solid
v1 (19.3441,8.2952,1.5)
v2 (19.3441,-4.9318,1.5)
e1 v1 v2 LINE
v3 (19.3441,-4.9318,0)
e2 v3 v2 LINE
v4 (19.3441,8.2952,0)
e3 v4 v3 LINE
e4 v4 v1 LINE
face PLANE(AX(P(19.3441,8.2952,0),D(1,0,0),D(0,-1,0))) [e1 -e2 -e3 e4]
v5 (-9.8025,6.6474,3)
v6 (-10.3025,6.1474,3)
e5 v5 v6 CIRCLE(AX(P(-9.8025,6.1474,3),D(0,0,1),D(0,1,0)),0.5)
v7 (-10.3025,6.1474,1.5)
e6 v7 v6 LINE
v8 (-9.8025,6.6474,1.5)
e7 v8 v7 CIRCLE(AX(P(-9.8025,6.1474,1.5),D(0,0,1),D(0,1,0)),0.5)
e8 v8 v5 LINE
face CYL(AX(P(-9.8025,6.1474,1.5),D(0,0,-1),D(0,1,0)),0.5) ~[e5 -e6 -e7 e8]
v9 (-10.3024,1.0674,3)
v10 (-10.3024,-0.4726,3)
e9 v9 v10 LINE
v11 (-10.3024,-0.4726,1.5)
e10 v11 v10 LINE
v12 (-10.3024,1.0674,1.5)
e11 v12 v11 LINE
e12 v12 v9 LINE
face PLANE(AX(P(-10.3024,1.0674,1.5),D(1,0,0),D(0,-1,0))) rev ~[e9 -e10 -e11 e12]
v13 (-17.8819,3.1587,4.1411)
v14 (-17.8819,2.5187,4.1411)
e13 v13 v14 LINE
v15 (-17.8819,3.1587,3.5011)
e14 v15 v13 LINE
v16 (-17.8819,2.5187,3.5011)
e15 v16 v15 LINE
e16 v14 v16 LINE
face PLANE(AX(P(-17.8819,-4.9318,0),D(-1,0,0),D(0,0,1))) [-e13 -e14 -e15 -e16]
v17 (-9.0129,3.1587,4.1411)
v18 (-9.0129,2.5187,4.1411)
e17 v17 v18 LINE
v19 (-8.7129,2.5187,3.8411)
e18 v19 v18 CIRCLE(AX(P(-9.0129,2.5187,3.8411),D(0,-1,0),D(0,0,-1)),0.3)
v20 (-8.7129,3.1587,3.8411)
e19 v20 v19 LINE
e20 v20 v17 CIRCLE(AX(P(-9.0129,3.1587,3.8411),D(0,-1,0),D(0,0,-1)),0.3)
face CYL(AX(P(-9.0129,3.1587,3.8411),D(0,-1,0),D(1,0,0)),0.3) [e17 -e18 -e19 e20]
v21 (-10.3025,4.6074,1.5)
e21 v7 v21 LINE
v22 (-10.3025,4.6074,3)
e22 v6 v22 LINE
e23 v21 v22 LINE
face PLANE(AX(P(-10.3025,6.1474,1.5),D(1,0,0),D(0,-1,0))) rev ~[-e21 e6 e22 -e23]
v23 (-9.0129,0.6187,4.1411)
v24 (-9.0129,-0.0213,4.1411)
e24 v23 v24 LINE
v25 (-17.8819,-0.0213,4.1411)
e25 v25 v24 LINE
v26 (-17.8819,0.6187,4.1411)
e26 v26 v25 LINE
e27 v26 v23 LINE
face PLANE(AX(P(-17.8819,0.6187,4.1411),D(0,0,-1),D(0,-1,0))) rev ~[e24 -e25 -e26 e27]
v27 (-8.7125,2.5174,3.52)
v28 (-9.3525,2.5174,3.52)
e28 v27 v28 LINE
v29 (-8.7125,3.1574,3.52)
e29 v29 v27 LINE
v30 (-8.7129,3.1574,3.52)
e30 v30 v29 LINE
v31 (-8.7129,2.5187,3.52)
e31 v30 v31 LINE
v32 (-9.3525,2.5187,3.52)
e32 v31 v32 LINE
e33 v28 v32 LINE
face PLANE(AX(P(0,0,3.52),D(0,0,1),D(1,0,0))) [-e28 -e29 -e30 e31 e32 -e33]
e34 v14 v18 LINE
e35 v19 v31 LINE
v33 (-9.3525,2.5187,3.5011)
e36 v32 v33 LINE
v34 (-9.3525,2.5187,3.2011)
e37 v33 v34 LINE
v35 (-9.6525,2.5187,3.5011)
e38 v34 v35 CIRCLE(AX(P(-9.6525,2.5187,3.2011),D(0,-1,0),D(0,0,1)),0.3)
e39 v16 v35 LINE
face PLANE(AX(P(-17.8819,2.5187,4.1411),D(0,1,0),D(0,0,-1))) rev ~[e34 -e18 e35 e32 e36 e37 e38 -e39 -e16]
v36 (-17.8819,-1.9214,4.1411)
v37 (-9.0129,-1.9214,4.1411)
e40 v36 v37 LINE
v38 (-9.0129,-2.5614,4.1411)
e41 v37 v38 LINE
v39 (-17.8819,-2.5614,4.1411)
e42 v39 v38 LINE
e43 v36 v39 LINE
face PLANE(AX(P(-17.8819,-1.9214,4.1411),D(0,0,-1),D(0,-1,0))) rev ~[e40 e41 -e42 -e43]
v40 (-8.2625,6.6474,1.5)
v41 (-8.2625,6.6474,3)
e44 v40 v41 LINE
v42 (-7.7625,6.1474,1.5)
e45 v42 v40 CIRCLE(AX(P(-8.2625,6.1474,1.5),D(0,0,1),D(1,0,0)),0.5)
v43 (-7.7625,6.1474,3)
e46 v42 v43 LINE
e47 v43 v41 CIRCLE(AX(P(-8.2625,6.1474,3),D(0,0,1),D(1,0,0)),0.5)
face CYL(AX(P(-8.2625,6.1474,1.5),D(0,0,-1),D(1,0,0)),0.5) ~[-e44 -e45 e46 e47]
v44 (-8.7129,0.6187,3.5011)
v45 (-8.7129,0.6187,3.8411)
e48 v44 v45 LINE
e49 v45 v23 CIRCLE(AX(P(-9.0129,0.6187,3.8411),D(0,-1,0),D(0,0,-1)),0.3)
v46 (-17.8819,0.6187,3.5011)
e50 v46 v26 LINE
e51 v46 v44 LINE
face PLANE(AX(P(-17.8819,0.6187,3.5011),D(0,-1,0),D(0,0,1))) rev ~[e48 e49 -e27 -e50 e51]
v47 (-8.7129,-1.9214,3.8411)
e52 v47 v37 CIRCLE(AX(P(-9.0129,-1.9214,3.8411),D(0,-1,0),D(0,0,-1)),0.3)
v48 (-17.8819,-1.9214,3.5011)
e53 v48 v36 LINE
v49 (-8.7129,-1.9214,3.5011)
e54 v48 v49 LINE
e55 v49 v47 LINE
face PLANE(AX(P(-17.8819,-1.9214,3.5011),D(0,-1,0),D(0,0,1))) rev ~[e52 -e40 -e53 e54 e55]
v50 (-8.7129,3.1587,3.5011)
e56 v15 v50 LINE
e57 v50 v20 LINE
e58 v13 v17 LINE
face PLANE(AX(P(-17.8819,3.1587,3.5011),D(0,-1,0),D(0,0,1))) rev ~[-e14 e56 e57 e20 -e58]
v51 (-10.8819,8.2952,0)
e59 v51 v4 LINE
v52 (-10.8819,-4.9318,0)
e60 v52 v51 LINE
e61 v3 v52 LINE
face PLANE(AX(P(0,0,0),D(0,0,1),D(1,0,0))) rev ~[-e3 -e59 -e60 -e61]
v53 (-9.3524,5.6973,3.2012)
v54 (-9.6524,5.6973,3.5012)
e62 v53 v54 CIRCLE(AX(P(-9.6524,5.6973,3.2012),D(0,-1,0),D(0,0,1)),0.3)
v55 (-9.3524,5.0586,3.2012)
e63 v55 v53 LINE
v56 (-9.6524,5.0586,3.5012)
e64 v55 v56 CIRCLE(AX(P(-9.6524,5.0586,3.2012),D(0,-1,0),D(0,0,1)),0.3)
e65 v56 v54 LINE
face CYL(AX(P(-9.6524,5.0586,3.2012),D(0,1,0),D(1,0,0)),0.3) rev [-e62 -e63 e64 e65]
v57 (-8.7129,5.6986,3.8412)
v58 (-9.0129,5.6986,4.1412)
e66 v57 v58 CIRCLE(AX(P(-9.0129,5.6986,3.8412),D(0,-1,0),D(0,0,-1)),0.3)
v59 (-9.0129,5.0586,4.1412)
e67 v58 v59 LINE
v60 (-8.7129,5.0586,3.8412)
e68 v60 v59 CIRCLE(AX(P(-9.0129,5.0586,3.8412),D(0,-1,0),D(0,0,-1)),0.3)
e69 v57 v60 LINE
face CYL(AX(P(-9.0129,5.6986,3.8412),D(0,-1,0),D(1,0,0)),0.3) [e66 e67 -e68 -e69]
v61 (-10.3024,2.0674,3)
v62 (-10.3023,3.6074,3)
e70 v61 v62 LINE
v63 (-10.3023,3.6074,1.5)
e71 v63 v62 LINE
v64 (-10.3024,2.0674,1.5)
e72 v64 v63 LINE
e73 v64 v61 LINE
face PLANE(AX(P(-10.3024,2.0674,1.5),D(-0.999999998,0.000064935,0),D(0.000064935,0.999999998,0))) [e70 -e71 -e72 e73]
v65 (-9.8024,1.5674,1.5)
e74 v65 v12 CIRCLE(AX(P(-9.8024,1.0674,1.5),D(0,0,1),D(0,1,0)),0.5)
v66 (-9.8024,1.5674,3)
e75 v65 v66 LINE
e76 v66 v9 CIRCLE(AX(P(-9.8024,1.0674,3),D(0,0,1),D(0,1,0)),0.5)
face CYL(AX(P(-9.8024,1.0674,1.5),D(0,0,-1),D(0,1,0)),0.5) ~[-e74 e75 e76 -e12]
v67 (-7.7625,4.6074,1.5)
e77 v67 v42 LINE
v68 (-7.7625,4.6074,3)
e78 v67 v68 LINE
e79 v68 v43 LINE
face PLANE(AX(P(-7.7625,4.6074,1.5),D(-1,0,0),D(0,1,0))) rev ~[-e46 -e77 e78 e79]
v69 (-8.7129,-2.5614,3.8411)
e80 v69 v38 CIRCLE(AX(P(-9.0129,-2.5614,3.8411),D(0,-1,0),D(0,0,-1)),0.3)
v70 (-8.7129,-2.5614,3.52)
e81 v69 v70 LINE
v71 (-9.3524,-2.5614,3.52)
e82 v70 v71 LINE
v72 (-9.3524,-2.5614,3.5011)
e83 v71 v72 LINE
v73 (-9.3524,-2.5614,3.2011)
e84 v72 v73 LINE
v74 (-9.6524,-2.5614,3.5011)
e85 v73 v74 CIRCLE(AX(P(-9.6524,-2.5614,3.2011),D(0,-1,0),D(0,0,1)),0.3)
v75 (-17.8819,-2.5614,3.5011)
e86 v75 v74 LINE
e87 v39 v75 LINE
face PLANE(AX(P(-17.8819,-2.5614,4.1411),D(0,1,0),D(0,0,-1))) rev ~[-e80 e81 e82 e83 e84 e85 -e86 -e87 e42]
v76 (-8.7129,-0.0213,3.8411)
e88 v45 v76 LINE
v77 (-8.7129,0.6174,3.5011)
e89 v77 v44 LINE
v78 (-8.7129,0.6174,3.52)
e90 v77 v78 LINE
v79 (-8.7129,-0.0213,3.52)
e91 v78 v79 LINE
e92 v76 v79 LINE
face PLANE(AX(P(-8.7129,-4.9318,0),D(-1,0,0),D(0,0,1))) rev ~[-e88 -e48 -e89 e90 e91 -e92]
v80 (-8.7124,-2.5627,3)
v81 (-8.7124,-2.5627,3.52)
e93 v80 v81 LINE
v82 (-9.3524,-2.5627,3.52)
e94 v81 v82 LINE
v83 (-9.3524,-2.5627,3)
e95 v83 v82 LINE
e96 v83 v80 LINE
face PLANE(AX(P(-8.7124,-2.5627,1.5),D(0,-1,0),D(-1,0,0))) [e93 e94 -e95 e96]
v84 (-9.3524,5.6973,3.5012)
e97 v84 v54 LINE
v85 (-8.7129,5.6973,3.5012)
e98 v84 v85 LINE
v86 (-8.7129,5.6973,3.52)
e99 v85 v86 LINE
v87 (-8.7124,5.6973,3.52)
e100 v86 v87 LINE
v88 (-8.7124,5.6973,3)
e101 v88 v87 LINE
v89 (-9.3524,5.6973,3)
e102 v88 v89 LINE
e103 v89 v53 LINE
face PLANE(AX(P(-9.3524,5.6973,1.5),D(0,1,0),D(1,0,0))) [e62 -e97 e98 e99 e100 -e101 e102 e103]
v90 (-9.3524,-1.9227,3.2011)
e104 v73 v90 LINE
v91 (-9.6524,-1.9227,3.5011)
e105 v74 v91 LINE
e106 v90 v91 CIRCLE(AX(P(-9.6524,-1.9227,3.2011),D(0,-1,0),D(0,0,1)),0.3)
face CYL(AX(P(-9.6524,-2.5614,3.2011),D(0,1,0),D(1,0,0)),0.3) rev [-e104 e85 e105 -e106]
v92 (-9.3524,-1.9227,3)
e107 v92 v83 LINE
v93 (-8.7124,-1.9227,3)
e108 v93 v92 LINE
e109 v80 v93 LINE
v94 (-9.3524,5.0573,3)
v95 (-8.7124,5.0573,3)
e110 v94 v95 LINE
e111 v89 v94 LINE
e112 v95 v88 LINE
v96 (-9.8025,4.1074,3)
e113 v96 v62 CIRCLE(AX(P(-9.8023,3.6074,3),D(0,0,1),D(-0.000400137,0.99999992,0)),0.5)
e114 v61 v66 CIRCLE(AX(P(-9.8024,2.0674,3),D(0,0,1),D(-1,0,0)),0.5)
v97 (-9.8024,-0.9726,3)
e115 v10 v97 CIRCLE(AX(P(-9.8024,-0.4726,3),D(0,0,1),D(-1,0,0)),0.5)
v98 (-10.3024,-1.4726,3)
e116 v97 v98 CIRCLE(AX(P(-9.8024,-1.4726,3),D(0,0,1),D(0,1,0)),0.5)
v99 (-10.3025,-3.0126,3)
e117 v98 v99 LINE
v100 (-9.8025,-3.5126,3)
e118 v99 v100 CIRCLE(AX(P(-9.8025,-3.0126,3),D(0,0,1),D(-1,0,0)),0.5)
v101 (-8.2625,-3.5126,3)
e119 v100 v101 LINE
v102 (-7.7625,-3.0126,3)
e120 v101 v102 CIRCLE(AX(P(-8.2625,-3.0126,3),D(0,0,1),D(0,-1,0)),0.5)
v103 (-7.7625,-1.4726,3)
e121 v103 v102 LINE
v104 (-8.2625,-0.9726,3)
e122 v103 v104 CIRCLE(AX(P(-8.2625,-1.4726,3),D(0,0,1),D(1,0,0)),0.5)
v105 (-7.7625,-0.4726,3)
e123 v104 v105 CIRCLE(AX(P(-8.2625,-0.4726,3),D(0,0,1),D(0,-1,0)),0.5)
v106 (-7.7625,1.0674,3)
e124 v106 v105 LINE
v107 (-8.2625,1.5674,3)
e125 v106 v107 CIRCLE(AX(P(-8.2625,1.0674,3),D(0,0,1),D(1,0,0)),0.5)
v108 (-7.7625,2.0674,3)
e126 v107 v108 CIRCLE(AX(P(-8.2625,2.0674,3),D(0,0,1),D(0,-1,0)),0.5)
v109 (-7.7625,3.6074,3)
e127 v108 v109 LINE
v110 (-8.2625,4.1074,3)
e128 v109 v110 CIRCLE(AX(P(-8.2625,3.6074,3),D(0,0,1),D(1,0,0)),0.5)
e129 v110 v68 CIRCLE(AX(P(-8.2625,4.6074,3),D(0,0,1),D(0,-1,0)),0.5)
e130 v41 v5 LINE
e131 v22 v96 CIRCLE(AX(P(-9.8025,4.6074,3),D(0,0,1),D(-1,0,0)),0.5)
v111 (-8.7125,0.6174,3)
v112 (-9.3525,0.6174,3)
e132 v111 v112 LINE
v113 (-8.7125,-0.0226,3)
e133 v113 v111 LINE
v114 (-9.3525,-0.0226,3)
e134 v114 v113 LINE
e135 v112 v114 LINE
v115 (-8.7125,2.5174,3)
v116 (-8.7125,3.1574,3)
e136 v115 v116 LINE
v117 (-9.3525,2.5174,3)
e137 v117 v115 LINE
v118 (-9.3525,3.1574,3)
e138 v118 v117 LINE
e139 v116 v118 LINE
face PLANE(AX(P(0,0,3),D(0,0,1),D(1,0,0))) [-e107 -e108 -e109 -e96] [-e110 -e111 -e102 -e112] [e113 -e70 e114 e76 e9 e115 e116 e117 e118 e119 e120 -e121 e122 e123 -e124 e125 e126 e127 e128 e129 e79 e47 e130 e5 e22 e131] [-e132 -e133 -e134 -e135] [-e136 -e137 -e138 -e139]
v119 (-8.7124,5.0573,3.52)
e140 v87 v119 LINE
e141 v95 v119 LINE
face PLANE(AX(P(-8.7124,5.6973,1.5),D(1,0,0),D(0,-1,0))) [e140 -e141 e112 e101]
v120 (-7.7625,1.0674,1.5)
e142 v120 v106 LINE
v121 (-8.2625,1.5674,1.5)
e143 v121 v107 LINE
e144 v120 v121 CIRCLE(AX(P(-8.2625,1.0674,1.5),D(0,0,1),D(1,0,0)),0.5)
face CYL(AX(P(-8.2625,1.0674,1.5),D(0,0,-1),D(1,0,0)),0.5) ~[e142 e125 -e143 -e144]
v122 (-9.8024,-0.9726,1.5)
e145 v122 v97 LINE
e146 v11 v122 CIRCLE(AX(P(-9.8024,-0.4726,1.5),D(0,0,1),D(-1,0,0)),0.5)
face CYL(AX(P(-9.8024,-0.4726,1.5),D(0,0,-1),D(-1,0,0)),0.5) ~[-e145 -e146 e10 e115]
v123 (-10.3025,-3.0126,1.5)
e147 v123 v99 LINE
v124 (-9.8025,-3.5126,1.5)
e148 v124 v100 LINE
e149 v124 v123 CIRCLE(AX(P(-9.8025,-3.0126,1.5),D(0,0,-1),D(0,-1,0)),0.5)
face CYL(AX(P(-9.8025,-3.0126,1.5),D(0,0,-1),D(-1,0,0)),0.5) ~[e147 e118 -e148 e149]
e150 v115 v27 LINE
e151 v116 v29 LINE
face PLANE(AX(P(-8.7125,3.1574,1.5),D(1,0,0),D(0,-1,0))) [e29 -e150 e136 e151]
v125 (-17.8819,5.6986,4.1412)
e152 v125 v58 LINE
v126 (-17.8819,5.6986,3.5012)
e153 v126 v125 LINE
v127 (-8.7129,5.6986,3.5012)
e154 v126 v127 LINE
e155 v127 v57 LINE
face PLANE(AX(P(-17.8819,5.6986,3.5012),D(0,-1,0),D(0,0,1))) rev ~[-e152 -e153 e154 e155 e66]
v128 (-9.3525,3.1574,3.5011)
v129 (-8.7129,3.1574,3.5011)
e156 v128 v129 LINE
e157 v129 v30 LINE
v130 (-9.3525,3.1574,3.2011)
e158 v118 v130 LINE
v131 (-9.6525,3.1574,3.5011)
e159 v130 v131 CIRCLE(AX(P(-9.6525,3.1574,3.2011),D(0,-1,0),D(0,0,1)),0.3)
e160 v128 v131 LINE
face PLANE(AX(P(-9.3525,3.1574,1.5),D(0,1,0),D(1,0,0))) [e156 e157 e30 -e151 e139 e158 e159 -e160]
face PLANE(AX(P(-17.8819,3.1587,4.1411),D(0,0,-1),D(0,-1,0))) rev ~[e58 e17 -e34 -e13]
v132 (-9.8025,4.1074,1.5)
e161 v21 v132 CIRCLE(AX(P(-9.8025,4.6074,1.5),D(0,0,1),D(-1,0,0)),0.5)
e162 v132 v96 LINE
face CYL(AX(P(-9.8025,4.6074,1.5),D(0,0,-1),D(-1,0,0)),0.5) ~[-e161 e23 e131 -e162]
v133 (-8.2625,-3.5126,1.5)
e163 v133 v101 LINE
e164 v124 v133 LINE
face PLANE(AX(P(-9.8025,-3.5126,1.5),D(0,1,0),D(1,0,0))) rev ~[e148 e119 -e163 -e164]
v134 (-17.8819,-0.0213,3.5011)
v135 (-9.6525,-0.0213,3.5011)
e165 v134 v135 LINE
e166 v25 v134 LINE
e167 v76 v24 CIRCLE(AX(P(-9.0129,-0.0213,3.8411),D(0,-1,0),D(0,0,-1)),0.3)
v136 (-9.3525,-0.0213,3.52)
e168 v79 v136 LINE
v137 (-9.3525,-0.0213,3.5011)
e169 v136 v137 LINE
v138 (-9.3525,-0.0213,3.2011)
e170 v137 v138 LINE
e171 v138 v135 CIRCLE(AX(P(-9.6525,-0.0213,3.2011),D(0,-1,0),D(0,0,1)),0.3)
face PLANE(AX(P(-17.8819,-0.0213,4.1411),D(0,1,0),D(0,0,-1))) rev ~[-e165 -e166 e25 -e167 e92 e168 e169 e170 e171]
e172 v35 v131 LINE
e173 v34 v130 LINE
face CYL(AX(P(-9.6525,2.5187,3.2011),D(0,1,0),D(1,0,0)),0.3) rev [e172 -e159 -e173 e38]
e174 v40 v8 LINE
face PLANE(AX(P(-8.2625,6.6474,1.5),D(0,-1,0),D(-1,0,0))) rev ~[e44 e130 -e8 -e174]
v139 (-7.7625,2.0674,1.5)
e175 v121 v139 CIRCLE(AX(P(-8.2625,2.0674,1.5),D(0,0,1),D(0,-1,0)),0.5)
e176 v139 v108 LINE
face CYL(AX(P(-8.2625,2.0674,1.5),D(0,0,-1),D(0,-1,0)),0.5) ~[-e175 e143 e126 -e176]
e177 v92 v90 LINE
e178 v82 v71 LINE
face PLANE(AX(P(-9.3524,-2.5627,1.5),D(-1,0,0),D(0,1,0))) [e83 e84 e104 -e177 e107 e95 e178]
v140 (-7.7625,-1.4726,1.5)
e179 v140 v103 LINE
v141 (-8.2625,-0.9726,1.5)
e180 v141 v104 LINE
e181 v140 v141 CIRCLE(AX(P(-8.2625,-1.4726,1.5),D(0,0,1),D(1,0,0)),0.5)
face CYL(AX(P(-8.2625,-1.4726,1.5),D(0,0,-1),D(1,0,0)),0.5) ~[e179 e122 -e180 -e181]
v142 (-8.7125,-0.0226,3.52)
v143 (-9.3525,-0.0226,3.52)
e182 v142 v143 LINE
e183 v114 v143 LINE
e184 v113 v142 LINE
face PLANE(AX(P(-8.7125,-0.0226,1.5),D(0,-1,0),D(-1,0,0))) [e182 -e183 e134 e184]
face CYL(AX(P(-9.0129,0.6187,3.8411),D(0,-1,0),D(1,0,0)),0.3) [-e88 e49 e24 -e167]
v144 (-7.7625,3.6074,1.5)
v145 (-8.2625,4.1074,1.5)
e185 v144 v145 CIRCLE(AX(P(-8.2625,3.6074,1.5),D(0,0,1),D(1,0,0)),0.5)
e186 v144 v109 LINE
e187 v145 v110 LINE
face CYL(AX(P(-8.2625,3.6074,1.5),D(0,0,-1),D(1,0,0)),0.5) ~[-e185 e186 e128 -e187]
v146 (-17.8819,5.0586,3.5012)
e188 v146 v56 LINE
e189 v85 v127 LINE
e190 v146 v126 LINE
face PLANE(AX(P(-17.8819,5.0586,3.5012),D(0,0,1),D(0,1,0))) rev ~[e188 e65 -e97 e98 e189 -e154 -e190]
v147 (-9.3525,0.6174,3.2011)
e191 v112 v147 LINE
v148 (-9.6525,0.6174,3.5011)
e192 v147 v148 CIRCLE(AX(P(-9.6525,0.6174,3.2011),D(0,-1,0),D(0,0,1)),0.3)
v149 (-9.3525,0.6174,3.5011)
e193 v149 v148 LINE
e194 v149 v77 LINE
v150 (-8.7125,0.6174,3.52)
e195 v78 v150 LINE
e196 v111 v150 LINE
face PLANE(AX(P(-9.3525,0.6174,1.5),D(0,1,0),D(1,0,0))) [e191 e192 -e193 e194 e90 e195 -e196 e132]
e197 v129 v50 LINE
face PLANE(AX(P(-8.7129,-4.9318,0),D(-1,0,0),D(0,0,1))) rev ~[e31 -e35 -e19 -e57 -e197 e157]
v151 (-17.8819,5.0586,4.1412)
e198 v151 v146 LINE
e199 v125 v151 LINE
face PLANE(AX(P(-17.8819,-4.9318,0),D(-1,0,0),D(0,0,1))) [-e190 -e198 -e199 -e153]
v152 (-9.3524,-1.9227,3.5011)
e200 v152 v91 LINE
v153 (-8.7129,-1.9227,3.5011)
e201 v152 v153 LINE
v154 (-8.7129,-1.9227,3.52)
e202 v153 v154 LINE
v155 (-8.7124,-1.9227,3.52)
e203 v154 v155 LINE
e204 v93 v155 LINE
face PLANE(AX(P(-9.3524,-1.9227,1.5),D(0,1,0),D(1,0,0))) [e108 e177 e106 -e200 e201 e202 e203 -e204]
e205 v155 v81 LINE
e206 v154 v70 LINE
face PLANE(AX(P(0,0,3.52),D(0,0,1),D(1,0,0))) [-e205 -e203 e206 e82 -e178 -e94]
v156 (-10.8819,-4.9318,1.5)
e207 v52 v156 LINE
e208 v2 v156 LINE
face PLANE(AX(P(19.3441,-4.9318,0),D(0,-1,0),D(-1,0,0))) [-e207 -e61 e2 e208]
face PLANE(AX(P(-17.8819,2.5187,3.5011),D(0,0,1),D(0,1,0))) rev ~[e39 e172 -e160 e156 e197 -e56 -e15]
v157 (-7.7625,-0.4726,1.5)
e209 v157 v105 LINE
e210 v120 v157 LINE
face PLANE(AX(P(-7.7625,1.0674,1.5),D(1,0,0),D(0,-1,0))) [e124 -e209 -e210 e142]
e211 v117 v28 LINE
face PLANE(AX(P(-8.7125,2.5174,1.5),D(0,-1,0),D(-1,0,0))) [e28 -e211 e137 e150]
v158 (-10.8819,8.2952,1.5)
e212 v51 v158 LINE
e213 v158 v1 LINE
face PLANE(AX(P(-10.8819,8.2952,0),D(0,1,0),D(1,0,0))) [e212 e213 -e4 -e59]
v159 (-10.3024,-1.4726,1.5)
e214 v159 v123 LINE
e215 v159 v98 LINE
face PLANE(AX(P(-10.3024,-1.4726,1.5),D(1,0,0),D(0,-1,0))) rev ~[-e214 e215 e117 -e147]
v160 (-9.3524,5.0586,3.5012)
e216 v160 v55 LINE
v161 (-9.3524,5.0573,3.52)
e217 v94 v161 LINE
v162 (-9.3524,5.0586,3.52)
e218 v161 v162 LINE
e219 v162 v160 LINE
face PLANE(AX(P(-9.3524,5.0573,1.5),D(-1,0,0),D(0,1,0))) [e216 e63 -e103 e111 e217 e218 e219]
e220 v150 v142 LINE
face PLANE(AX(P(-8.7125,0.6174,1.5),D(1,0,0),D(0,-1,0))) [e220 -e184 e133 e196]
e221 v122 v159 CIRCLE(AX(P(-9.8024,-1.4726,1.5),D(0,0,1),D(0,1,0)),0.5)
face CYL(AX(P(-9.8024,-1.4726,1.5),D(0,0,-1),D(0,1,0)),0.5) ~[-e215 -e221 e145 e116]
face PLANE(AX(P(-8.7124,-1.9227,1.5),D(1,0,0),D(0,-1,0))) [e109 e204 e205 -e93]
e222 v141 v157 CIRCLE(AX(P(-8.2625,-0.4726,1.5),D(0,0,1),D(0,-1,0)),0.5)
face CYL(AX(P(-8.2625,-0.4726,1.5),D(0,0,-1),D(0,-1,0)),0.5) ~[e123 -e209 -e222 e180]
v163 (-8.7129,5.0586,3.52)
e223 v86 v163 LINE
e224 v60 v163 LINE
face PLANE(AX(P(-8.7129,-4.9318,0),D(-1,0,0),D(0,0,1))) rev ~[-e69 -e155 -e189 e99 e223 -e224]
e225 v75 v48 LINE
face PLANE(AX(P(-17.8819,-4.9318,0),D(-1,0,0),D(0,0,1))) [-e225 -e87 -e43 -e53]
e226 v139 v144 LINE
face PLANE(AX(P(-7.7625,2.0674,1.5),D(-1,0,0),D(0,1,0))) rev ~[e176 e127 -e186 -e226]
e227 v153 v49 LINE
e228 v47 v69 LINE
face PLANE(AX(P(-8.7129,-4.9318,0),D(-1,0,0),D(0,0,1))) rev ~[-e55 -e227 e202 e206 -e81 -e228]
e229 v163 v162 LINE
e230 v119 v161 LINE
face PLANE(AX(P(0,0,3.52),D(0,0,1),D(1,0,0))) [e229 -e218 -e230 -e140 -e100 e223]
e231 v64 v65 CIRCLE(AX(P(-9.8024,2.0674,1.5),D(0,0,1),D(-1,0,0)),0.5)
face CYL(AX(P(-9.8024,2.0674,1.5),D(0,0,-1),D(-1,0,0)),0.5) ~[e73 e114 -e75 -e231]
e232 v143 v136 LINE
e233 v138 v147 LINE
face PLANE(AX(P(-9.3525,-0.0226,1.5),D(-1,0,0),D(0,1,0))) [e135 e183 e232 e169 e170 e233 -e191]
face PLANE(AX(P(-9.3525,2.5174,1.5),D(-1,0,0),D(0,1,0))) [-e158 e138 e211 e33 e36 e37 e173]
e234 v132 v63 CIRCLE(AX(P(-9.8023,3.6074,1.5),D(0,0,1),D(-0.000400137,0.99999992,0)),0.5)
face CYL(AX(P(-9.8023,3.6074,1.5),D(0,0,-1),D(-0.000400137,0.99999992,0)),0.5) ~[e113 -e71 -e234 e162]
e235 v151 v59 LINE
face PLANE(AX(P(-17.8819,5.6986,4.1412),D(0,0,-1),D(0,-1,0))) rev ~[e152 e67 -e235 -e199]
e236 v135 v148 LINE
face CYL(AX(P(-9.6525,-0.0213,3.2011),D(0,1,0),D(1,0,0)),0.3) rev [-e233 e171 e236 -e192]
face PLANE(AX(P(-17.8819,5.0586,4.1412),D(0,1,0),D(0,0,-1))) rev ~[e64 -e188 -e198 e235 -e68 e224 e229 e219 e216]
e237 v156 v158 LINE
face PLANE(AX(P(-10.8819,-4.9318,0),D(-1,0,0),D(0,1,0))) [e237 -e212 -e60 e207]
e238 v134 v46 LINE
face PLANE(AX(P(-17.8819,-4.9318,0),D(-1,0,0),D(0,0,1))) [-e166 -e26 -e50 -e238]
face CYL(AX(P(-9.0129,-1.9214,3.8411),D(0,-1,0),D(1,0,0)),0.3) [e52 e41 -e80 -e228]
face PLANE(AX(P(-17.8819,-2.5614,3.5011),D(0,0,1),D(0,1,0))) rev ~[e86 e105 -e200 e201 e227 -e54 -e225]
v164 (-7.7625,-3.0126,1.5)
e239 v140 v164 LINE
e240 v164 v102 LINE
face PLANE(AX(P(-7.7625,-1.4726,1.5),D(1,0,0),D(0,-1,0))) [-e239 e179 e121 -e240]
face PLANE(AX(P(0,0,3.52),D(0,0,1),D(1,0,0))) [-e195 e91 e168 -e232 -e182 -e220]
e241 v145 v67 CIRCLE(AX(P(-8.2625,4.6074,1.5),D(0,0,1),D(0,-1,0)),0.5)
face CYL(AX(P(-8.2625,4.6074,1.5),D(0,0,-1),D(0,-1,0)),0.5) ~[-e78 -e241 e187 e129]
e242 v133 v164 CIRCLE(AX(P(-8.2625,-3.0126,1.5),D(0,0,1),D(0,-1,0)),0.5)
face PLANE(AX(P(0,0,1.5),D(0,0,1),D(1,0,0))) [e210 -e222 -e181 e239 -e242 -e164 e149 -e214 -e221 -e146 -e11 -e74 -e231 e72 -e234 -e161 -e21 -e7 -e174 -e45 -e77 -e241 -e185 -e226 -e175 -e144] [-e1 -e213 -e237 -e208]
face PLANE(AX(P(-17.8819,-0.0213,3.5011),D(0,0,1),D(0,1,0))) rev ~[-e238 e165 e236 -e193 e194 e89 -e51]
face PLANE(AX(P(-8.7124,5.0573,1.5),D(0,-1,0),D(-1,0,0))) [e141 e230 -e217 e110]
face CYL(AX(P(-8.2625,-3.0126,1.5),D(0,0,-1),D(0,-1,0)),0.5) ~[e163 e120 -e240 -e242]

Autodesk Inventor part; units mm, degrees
ref_plane "YZ Plane" through (0, 0, 0) normal (1, 0, 0) x (0, 1, 0)
sketch "Sketch1" plane through (0, 0, 0) normal (0, 0, 1) x (1, 0, 0)
  line L0 (-10.8819, 8.2952) -> (19.3441, 8.2952)
  line L1 (19.3441, 8.2952) -> (19.3441, -4.9318)
  line L2 (19.3441, -4.9318) -> (-10.8819, -4.9318)
  line L3 (-10.8819, -4.9318) -> (-10.8819, 8.2952)
  point P0 (0, 0)
  dimension "d0" = 30.226
  dimension "d1" = 13.227
extrude "Extrusion1" add sketch "Sketch1" along normal blind 1.5
sketch "Sketch2" plane through (0, 0, 1.5) normal (0, 0, 1) x (1, 0, 0)
  line L0 (-7.7625, -1.4726) -> (-7.7625, -3.0126)
  line L1 (-9.8024, 1.5674) -> (-8.2625, 1.5674)
  line L2 (-8.7125, 2.5174) -> (-9.3525, 2.5174)
  line L3 (-9.3525, 3.1574) -> (-8.7125, 3.1574)
  line L4 (-9.3525, 2.5174) -> (-9.3525, 3.1574)
  line L5 (-8.7125, 3.1574) -> (-8.7125, 2.5174)
  line L6 (-9.3525, 2.5174) -> (-8.7125, 3.1574) construction
  line L7 (-9.3525, 3.1574) -> (-8.7125, 2.5174) construction
  line L8 (-9.3524, 5.0573) -> (-9.3524, 5.6973)
  line L9 (-9.3524, 5.0573) -> (-8.7124, 5.6973) construction
  line L10 (-8.2625, 6.6474) -> (-9.8025, 6.6474)
  line L11 (-8.7124, 5.0573) -> (-9.3524, 5.0573)
  line L12 (-9.3524, 5.6973) -> (-8.7124, 5.6973)
  line L13 (-8.7124, 5.6973) -> (-8.7124, 5.0573)
  line L14 (-9.3524, 5.6973) -> (-8.7124, 5.0573) construction
  line L15 (-9.8025, 4.1074) -> (-8.2625, 4.1074)
  line L16 (-9.8025, -3.5126) -> (-8.2625, -3.5126)
  line L17 (-9.8024, -0.9726) -> (-8.2625, -0.9726)
  line L18 (-9.3524, -1.9227) -> (-8.7124, -1.9227)
  line L19 (-8.7124, -1.9227) -> (-8.7124, -2.5627)
  line L20 (-8.7124, -2.5627) -> (-9.3524, -2.5627)
  line L21 (-9.3524, -2.5627) -> (-9.3524, -1.9227)
  line L22 (-9.3525, 0.6174) -> (-8.7125, 0.6174)
  line L23 (-8.7125, 0.6174) -> (-8.7125, -0.0226)
  line L24 (-8.7125, -0.0226) -> (-9.3525, -0.0226)
  line L25 (-9.3525, -0.0226) -> (-9.3525, 0.6174)
  line L26 (-9.3525, 0.6174) -> (-8.7125, -0.0226) construction
  line L27 (-9.3524, -1.9227) -> (-8.7124, -2.5627) construction
  line L28 (-9.3524, -2.5627) -> (-8.7124, -1.9227) construction
  line L29 (-9.3525, -0.0226) -> (-8.7125, 0.6174) construction
  line L30 (-10.3025, 6.1474) -> (-10.3025, 4.6074)
  line L31 (-7.7625, 4.6074) -> (-7.7625, 6.1474)
  arc A0 (-7.7625, 6.1474) -> (-8.2625, 6.6474) centre (-8.2625, 6.1474) ccw
  arc A1 (-9.8025, 6.6474) -> (-10.3025, 6.1474) centre (-9.8025, 6.1474) ccw
  arc A2 (-8.2625, -3.5126) -> (-7.7625, -3.0126) centre (-8.2625, -3.0126) ccw
  arc A3 (-10.3025, -3.0126) -> (-9.8025, -3.5126) centre (-9.8025, -3.0126) ccw
  arc A4 (-8.2625, 4.1074) -> (-7.7625, 4.6074) centre (-8.2625, 4.6074) ccw
  arc A5 (-10.3025, 4.6074) -> (-9.8025, 4.1074) centre (-9.8025, 4.6074) ccw
  arc A6 (-7.7625, -1.4726) -> (-8.2625, -0.9726) centre (-8.2625, -1.4726) ccw
  line L32 (-10.3024, 2.0674) -> (-10.3023, 3.6074)
  line L33 (-9.8023, 4.1074) -> (-9.8025, 4.1074)
  arc A7 (-9.8023, 4.1074) -> (-10.3023, 3.6074) centre (-9.8023, 3.6074) ccw
  arc A8 (-10.3024, 2.0674) -> (-9.8024, 1.5674) centre (-9.8024, 2.0674) ccw
  line L34 (-9.8024, 1.5674) -> (-9.8024, 1.5674)
  line L35 (-10.3024, 1.0674) -> (-10.3024, -0.4726)
  line L36 (-7.7625, 2.0674) -> (-7.7625, 3.6074)
  line L37 (-8.2625, 4.1074) -> (-8.2625, 4.1074)
  arc A9 (-7.7625, 3.6074) -> (-8.2625, 4.1074) centre (-8.2625, 3.6074) ccw
  arc A10 (-8.2625, 1.5674) -> (-7.7625, 2.0674) centre (-8.2625, 2.0674) ccw
  arc A11 (-9.8024, 1.5674) -> (-10.3024, 1.0674) centre (-9.8024, 1.0674) ccw
  arc A12 (-10.3024, -0.4726) -> (-9.8024, -0.9726) centre (-9.8024, -0.4726) ccw
  line L38 (-8.2625, 1.5674) -> (-8.2625, 1.5674)
  line L39 (-7.7625, 1.0674) -> (-7.7625, -0.4726)
  line L40 (-8.2625, -0.9726) -> (-8.2625, -0.9726)
  line L41 (-9.8024, -0.9726) -> (-9.8024, -0.9726)
  line L42 (-10.3024, -1.4726) -> (-10.3024, -3.0237)
  arc A13 (-9.8024, -0.9726) -> (-10.3024, -1.4726) centre (-9.8024, -1.4726) ccw
  arc A14 (-8.2625, -0.9726) -> (-7.7625, -0.4726) centre (-8.2625, -0.4726) ccw
  arc A15 (-7.7625, 1.0674) -> (-8.2625, 1.5674) centre (-8.2625, 1.0674) ccw
  line L43 (-8.2625, -0.9726) -> (-9.8024, -0.9726)
  line L44 (-8.2625, 1.5674) -> (-9.8024, 1.5674)
  line L45 (-8.2625, 4.1074) -> (-9.8024, 4.1074)
  line L46 (-9.8024, -0.9726) -> (-8.2625, -0.9726)
  line L47 (-8.2625, -0.9726) -> (-9.8024, -0.9726)
  line L48 (-7.7625, -1.4726) -> (-7.7625, -3.0126)
  line L49 (-8.2625, -3.5126) -> (-9.8025, -3.5126)
  line L50 (-10.3024, -3.0237) -> (-10.3024, -1.4726)
  point P0 (-7.7625, 6.6911)
  dimension "d30" = 0.64
  dimension "d31" = 0.64
  dimension "d32" = 0.64
  dimension "d33" = 0.64
  dimension "d34" = 0.64
  dimension "d35" = 0.64
  dimension "d36" = 0.64
  dimension "d37" = 0.64
  dimension "d38" = 1.9001
  dimension "d39" = 1.9
  dimension "d40" = 1.9
  dimension "d41" = 0.5
  dimension "d42" = 0.5
  dimension "d43" = 0.5
  dimension "d44" = 0.5
extrude "Extrusion2" add sketch "Sketch2" along normal blind 1.5 contours L17 A12 L35 A11 L1 A15 L39 A14 | L1 A8 L32 A7 L15 A9 L36 A10 | L15 A5 L30 A1 L10 A0 L31 A4 | L2 L4 L3 L5 | L8 L12 L13 L11 | L22 L23 L24 L25
extrude "Extrusion3" add sketch "Sketch2" along normal blind 1.5 contours L0 A2 L16 A3 L42 A13 L17 A6 | L18 L19 L20 L21
extrude "Extrusion4" add sketch "Sketch2" along normal blind 2.02 contours L2 L4 L3 L5 | L8 L12 L13 L11 | L18 L19 L20 L21 | L22 L23 L24 L25
ref_plane "Work Plane1" through (0, 0, 3.5) normal (0, 0, 1) x (1, 0, 0)
sketch "Sketch3" plane through (0, 0, 3.5) normal (0, 0, 1) x (1, 0, 0)
  line L0 (-8.7124, 5.0573) -> (-8.7124, 5.6973) projected
  line L1 (-8.7125, -0.0226) -> (-9.3525, -0.0226) projected
  line L2 (-9.3525, -0.0226) -> (-9.3525, 0.6174) projected
  line L3 (-9.3525, 0.6174) -> (-8.7125, 0.6174) projected
  line L4 (-8.7125, 0.6174) -> (-8.7125, -0.0226) projected
  line L5 (-9.3525, 3.1574) -> (-8.7125, 3.1574) projected
  line L6 (-8.7125, 3.1574) -> (-8.7125, 2.5174) projected
  line L7 (-8.7125, 2.5174) -> (-9.3525, 2.5174) projected
  line L8 (-9.3525, 2.5174) -> (-9.3525, 3.1574) projected
  line L9 (-8.7124, -1.9227) -> (-8.7124, -2.5627) projected
  line L10 (-8.7124, -2.5627) -> (-9.3524, -2.5627) projected
  line L11 (-9.3524, -2.5627) -> (-9.3524, -1.9227) projected
  line L12 (-9.3524, -1.9227) -> (-8.7124, -1.9227) projected
  line L13 (-9.3524, 5.6973) -> (-8.7124, 5.6973) projected
  line L14 (-8.7124, 5.6973) -> (-8.7124, 5.0573) projected
  line L15 (-8.7124, 5.0573) -> (-9.3524, 5.0573) projected
  line L16 (-9.3524, 5.0573) -> (-9.3524, 5.6973) projected
  arc A0 (-9.8024, 1.5674) -> (-10.3024, 1.0674) centre (-9.8024, 1.0674) ccw construction
  line L17 (-10.3024, 1.0674) -> (-10.3024, -0.4726) construction
  arc A1 (-10.3024, -0.4726) -> (-9.8024, -0.9726) centre (-9.8024, -0.4726) ccw construction
  arc A2 (-9.8024, -0.9726) -> (-10.3024, -1.4726) centre (-9.8024, -1.4726) ccw construction
  line L18 (-10.3024, -1.4726) -> (-10.3024, -3.0237) construction
  arc A3 (-10.3024, -3.0237) -> (-9.8025, -3.5126) centre (-9.8025, -3.0126) ccw construction
  line L19 (-9.8025, -3.5126) -> (-8.2625, -3.5126) construction
  arc A4 (-8.2625, -3.5126) -> (-7.7625, -3.0126) centre (-8.2625, -3.0126) ccw construction
  line L20 (-7.7625, -3.0126) -> (-7.7625, -1.4726) construction
  arc A5 (-7.7625, -1.4726) -> (-8.2625, -0.9726) centre (-8.2625, -1.4726) ccw construction
  arc A6 (-8.2625, -0.9726) -> (-7.7625, -0.4726) centre (-8.2625, -0.4726) ccw construction
  line L21 (-7.7625, -0.4726) -> (-7.7625, 1.0674) construction
  arc A7 (-7.7625, 1.0674) -> (-8.2625, 1.5674) centre (-8.2625, 1.0674) ccw construction
  arc A8 (-8.2625, 1.5674) -> (-7.7625, 2.0674) centre (-8.2625, 2.0674) ccw construction
  line L22 (-7.7625, 2.0674) -> (-7.7625, 3.6074) construction
  arc A9 (-7.7625, 3.6074) -> (-8.2625, 4.1074) centre (-8.2625, 3.6074) ccw construction
  arc A10 (-8.2625, 4.1074) -> (-7.7625, 4.6074) centre (-8.2625, 4.6074) ccw construction
  line L23 (-7.7625, 4.6074) -> (-7.7625, 6.1474) construction
  arc A11 (-7.7625, 6.1474) -> (-8.2625, 6.6474) centre (-8.2625, 6.1474) ccw construction
  line L24 (-8.2625, 6.6474) -> (-9.8025, 6.6474) construction
  arc A12 (-9.8025, 6.6474) -> (-10.3025, 6.1474) centre (-9.8025, 6.1474) ccw construction
  line L25 (-10.3025, 6.1474) -> (-10.3025, 4.6074) construction
  arc A13 (-10.3025, 4.6074) -> (-9.8024, 4.1074) centre (-9.8025, 4.6074) ccw construction
  arc A14 (-9.8024, 4.1074) -> (-10.3023, 3.6074) centre (-9.8023, 3.6074) ccw construction
  line L26 (-10.3023, 3.6074) -> (-10.3024, 2.0674) construction
  arc A15 (-10.3024, 2.0674) -> (-9.8024, 1.5674) centre (-9.8024, 2.0674) ccw construction
  line L27 (19.3441, 8.2952) -> (-10.8819, 8.2952) construction
  line L28 (-10.8819, 8.2952) -> (-10.8819, -4.9318) construction
  line L29 (-10.8819, -4.9318) -> (19.3441, -4.9318) construction
  line L30 (19.3441, -4.9318) -> (19.3441, 8.2952) construction
  arc A16 (-7.7625, -1.4726) -> (-8.2625, -0.9726) centre (-8.2625, -1.4726) ccw construction
  line L31 (-7.7625, -1.4726) -> (-7.7625, -3.0126) construction
  arc A17 (-8.2625, -3.5126) -> (-7.7625, -3.0126) centre (-8.2625, -3.0126) ccw construction
  line L32 (-8.2625, -3.5126) -> (-9.8025, -3.5126) construction
  arc A18 (-10.3024, -3.0237) -> (-9.8025, -3.5126) centre (-9.8025, -3.0126) ccw construction
  line L33 (-10.3024, -3.0237) -> (-10.3024, -1.4726) construction
  arc A19 (-9.8024, -0.9726) -> (-10.3024, -1.4726) centre (-9.8024, -1.4726) ccw construction
  arc A20 (-10.3024, -0.4726) -> (-9.8024, -0.9726) centre (-9.8024, -0.4726) ccw construction
  line L34 (-10.3024, -0.4726) -> (-10.3024, 1.0674) construction
  arc A21 (-9.8024, 1.5674) -> (-10.3024, 1.0674) centre (-9.8024, 1.0674) ccw construction
  arc A22 (-10.3024, 2.0674) -> (-9.8024, 1.5674) centre (-9.8024, 2.0674) ccw construction
  line L35 (-10.3024, 2.0674) -> (-10.3023, 3.6074) construction
  arc A23 (-9.8024, 4.1074) -> (-10.3023, 3.6074) centre (-9.8023, 3.6074) ccw construction
  arc A24 (-10.3025, 4.6074) -> (-9.8024, 4.1074) centre (-9.8025, 4.6074) ccw construction
  line L36 (-10.3025, 4.6074) -> (-10.3025, 6.1474) construction
  arc A25 (-9.8025, 6.6474) -> (-10.3025, 6.1474) centre (-9.8025, 6.1474) ccw construction
  line L37 (-9.8025, 6.6474) -> (-8.2625, 6.6474) construction
  arc A26 (-7.7625, 6.1474) -> (-8.2625, 6.6474) centre (-8.2625, 6.1474) ccw construction
  line L38 (-7.7625, 6.1474) -> (-7.7625, 4.6074) construction
  arc A27 (-8.2625, 4.1074) -> (-7.7625, 4.6074) centre (-8.2625, 4.6074) ccw construction
  arc A28 (-7.7625, 3.6074) -> (-8.2625, 4.1074) centre (-8.2625, 3.6074) ccw construction
  line L39 (-7.7625, 3.6074) -> (-7.7625, 2.0674) construction
  arc A29 (-8.2625, 1.5674) -> (-7.7625, 2.0674) centre (-8.2625, 2.0674) ccw construction
  arc A30 (-7.7625, 1.0674) -> (-8.2625, 1.5674) centre (-8.2625, 1.0674) ccw construction
  line L40 (-7.7625, 1.0674) -> (-7.7625, -0.4726) construction
  arc A31 (-8.2625, -0.9726) -> (-7.7625, -0.4726) centre (-8.2625, -0.4726) ccw construction
  point P0 (0, 0)
ref_plane "Work Plane2" through (-17.8819, -4.9318, 0) normal (-1, 0, 0) x (0, 0, 1)
sketch "Sketch4" plane through (-17.8819, -4.9318, 0) normal (-1, 0, 0) x (0, 0, 1)
  line L0 (3.5011, 3.0104) -> (4.1411, 3.0104)
  line L1 (3.5011, 3.0104) -> (4.1411, 2.3704) construction
  line L2 (4.1411, 3.0104) -> (4.1411, 2.3704)
  line L3 (4.1411, 2.3704) -> (3.5011, 2.3704)
  line L4 (3.5011, 2.3704) -> (3.5011, 3.0104)
  line L5 (3.5011, 2.3704) -> (4.1411, 3.0104) construction
  line L6 (4.1411, 7.4505) -> (3.5011, 7.4505)
  line L7 (3.5011, 8.0905) -> (4.1411, 8.0905)
  line L8 (4.1411, 8.0905) -> (4.1411, 7.4505)
  line L9 (3.5011, 7.4505) -> (4.1411, 8.0905) construction
  line L10 (3.5011, 8.0905) -> (4.1411, 7.4505) construction
  line L11 (3.5011, 7.4505) -> (3.5011, 8.0905)
  line L12 (3.5012, 9.9904) -> (3.5012, 10.6304)
  line L13 (3.5012, 9.9904) -> (4.1412, 10.6304) construction
  line L14 (4.1412, 9.9904) -> (3.5012, 9.9904)
  line L15 (4.1412, 10.6304) -> (4.1412, 9.9904)
  line L16 (3.5012, 10.6304) -> (4.1412, 9.9904) construction
  line L17 (3.5012, 10.6304) -> (4.1412, 10.6304)
  line L18 (4.1411, 4.9105) -> (3.5011, 4.9105)
  line L19 (3.5011, 5.5505) -> (4.1411, 5.5505)
  line L20 (4.1411, 5.5505) -> (4.1411, 4.9105)
  line L21 (3.5011, 4.9105) -> (3.5011, 5.5505)
  line L22 (3.5011, 5.5505) -> (4.1411, 4.9105) construction
  line L23 (3.5011, 4.9105) -> (4.1411, 5.5505) construction
  line L24 (2.4101, 9.0392) -> (2.41, 9.0392)
  line L25 (2.4101, 6.4992) -> (2.4101, 6.4992)
  line L26 (2.4101, 3.9592) -> (2.4101, 3.9592)
  point P0 (0, 4.9318)
  point P1 (2.2355, 10.9967)
  point P2 (2.2355, 1.8367)
  point P3 (2.2355, 9.4567)
  point P4 (2.2356, 8.4567)
  point P5 (2.2356, 6.9167)
  point P6 (2.2356, 5.9167)
  point P7 (2.2356, 3.8767)
  point P8 (2.2356, 4.3767)
  point P9 (2.2356, 3.3767)
  point P10 (2.2356, 3.8767)
  point P11 (2.2356, 8.9567)
  dimension "d53" = 0.64
  dimension "d54" = 0.64
  dimension "d55" = 0.64
  dimension "d56" = 0.64
  dimension "d57" = 0.64
  dimension "d58" = 0.64
  dimension "d59" = 0.64
  dimension "d60" = 0.64
  dimension "d61" = 1.9001
  dimension "d62" = 1.9
  dimension "d63" = 1.9
ref_plane "Work Plane4" through (-17.8819, 3.1587, 3.8211) normal (0, 0, 1) x (1, 0, 0)
ref_plane "Work Plane5" through (-9.0325, 0.6174, 3.52) normal (1, 0, 0) x (0, 1, 0)
sketch "Sketch5" plane through (-17.8819, 3.1587, 3.8211) normal (0, 0, 1) x (1, 0, 0)
  line L0 (0, -5.0801) -> (0, -5.7201) projected
  line L1 (0, -2.54) -> (0, -3.18) projected
  line L2 (0, 0) -> (0, -0.64) projected
  line L3 (0, 2.5399) -> (0, 1.8999) projected
  point P0 (17.8819, -3.1587)
sketch "Sketch6" plane through (-9.0325, 0.6174, 3.52) normal (1, 0, 0) x (0, 1, 0)
  point P0 (-0.6174, -3.52)
sketch "Sketch7" plane through (-17.8819, 3.1587, 3.8211) normal (0, 0, 1) x (1, 0, 0)
  line L0 (8.5294, -5.7213) -> (8.5294, -5.0813) projected
  line L1 (8.5294, -3.1813) -> (8.5294, -2.5413) projected
  line L2 (8.5294, -0.6413) -> (8.5294, -0.0013) projected
  line L3 (8.5295, 1.8987) -> (8.5295, 2.5387) projected
  point P0 (17.8819, -3.1587)
sketch "Sketch8" plane through (-9.0325, 0.6174, 3.52) normal (1, 0, 0) x (0, 1, 0)
  line L0 (-3.1801, 0.3011) -> (-2.5401, 0.3011) projected
  line L1 (-0.64, 0.3011) -> (0, 0.3011) projected
  line L2 (1.9, 0.3011) -> (2.54, 0.3011) projected
  line L3 (4.44, 0.3011) -> (5.08, 0.3011) projected
  point P0 (-0.6174, -3.52)
sketch "Sketch9" plane through (-17.8819, 3.1587, 3.8211) normal (0, 0, 1) x (1, 0, 0)
  line L0 (0, -5.4007) -> (8.8472, -5.4007)
  line L1 (8.8472, -2.8613) -> (0, -2.8613)
  line L2 (8.8472, -0.3213) -> (0, -0.3213)
  line L3 (8.8472, 2.2187) -> (0, 2.2187)
  point P0 (17.8819, -3.1587)
sketch "Sketch10" plane through (-9.0325, 0.6174, 3.52) normal (1, 0, 0) x (0, 1, 0)
  line L0 (-0.32, 0.3312) -> (-0.32, 0)
  line L1 (0, 0) -> (-0.64, 0) projected
  line L2 (1.9, 0) -> (2.54, 0) projected
  line L3 (2.22, 0) -> (2.22, 0.3312)
  line L4 (4.44, 0) -> (5.08, 0) projected
  line L5 (4.76, 0) -> (4.76, 0.3312)
  point P0 (-0.6174, -3.52)
extrude "Extrusion5" add sketch "Sketch4" against normal blind 9.169
fillet "Fillet1" radius 0.3 1 edges at (-9.3524, 5.378, 3.5012)
fillet "Fillet2" radius 0.3 1 edges at (-9.3525, 2.838, 3.5011)
fillet "Fillet3" radius 0.3 1 edges at (-9.3525, 0.298, 3.5011)
fillet "Fillet4" radius 0.3 1 edges at (-9.3524, -2.2421, 3.5011)
fillet "Fillet5" radius 0.3 4 edges at (-8.7129, 5.3786, 4.1412) (-8.7129, 2.8387, 4.1411) (-8.7129, 0.2987, 4.1411) (-8.7129, -2.2414, 4.1411)
sketch "Sketch11" plane through (0, 0, 1.5) normal (0, 0, 1) x (1, 0, 0)
  line L0 (-10.8815, 8.2937) -> (19.2548, 8.2937) construction
  line L1 (19.2548, 8.2937) -> (19.2548, -4.9334) construction
  line L2 (19.2548, -4.9334) -> (-10.8815, -4.9334) construction
  line L3 (-10.8815, -4.9334) -> (-10.8815, 8.2937) construction
  point P0 (0, 0)
sketch "Sketch12" plane through (0, 0, 0) normal (0, 0, -1) x (-1, 0, 0)
  line L0 (10.8819, 8.2952) -> (-19.3441, 8.2952) projected
  line L1 (-19.3441, 8.2952) -> (10.8819, 8.2952) construction
  line L2 (10.8819, 8.2952) -> (10.8819, -4.5926) construction
  line L3 (10.8819, -4.5926) -> (-19.3441, -4.5926) construction
  line L4 (-19.3441, -4.5926) -> (-19.3441, 8.2952) construction
  point P0 (0, 0)
ref_plane "Work Plane3" through (-17.8819, 3.1587, 4.1411) normal (0, 0, 1) x (1, 0, 0)
properties part number "BLUTOOTH" material "Ogólne"
